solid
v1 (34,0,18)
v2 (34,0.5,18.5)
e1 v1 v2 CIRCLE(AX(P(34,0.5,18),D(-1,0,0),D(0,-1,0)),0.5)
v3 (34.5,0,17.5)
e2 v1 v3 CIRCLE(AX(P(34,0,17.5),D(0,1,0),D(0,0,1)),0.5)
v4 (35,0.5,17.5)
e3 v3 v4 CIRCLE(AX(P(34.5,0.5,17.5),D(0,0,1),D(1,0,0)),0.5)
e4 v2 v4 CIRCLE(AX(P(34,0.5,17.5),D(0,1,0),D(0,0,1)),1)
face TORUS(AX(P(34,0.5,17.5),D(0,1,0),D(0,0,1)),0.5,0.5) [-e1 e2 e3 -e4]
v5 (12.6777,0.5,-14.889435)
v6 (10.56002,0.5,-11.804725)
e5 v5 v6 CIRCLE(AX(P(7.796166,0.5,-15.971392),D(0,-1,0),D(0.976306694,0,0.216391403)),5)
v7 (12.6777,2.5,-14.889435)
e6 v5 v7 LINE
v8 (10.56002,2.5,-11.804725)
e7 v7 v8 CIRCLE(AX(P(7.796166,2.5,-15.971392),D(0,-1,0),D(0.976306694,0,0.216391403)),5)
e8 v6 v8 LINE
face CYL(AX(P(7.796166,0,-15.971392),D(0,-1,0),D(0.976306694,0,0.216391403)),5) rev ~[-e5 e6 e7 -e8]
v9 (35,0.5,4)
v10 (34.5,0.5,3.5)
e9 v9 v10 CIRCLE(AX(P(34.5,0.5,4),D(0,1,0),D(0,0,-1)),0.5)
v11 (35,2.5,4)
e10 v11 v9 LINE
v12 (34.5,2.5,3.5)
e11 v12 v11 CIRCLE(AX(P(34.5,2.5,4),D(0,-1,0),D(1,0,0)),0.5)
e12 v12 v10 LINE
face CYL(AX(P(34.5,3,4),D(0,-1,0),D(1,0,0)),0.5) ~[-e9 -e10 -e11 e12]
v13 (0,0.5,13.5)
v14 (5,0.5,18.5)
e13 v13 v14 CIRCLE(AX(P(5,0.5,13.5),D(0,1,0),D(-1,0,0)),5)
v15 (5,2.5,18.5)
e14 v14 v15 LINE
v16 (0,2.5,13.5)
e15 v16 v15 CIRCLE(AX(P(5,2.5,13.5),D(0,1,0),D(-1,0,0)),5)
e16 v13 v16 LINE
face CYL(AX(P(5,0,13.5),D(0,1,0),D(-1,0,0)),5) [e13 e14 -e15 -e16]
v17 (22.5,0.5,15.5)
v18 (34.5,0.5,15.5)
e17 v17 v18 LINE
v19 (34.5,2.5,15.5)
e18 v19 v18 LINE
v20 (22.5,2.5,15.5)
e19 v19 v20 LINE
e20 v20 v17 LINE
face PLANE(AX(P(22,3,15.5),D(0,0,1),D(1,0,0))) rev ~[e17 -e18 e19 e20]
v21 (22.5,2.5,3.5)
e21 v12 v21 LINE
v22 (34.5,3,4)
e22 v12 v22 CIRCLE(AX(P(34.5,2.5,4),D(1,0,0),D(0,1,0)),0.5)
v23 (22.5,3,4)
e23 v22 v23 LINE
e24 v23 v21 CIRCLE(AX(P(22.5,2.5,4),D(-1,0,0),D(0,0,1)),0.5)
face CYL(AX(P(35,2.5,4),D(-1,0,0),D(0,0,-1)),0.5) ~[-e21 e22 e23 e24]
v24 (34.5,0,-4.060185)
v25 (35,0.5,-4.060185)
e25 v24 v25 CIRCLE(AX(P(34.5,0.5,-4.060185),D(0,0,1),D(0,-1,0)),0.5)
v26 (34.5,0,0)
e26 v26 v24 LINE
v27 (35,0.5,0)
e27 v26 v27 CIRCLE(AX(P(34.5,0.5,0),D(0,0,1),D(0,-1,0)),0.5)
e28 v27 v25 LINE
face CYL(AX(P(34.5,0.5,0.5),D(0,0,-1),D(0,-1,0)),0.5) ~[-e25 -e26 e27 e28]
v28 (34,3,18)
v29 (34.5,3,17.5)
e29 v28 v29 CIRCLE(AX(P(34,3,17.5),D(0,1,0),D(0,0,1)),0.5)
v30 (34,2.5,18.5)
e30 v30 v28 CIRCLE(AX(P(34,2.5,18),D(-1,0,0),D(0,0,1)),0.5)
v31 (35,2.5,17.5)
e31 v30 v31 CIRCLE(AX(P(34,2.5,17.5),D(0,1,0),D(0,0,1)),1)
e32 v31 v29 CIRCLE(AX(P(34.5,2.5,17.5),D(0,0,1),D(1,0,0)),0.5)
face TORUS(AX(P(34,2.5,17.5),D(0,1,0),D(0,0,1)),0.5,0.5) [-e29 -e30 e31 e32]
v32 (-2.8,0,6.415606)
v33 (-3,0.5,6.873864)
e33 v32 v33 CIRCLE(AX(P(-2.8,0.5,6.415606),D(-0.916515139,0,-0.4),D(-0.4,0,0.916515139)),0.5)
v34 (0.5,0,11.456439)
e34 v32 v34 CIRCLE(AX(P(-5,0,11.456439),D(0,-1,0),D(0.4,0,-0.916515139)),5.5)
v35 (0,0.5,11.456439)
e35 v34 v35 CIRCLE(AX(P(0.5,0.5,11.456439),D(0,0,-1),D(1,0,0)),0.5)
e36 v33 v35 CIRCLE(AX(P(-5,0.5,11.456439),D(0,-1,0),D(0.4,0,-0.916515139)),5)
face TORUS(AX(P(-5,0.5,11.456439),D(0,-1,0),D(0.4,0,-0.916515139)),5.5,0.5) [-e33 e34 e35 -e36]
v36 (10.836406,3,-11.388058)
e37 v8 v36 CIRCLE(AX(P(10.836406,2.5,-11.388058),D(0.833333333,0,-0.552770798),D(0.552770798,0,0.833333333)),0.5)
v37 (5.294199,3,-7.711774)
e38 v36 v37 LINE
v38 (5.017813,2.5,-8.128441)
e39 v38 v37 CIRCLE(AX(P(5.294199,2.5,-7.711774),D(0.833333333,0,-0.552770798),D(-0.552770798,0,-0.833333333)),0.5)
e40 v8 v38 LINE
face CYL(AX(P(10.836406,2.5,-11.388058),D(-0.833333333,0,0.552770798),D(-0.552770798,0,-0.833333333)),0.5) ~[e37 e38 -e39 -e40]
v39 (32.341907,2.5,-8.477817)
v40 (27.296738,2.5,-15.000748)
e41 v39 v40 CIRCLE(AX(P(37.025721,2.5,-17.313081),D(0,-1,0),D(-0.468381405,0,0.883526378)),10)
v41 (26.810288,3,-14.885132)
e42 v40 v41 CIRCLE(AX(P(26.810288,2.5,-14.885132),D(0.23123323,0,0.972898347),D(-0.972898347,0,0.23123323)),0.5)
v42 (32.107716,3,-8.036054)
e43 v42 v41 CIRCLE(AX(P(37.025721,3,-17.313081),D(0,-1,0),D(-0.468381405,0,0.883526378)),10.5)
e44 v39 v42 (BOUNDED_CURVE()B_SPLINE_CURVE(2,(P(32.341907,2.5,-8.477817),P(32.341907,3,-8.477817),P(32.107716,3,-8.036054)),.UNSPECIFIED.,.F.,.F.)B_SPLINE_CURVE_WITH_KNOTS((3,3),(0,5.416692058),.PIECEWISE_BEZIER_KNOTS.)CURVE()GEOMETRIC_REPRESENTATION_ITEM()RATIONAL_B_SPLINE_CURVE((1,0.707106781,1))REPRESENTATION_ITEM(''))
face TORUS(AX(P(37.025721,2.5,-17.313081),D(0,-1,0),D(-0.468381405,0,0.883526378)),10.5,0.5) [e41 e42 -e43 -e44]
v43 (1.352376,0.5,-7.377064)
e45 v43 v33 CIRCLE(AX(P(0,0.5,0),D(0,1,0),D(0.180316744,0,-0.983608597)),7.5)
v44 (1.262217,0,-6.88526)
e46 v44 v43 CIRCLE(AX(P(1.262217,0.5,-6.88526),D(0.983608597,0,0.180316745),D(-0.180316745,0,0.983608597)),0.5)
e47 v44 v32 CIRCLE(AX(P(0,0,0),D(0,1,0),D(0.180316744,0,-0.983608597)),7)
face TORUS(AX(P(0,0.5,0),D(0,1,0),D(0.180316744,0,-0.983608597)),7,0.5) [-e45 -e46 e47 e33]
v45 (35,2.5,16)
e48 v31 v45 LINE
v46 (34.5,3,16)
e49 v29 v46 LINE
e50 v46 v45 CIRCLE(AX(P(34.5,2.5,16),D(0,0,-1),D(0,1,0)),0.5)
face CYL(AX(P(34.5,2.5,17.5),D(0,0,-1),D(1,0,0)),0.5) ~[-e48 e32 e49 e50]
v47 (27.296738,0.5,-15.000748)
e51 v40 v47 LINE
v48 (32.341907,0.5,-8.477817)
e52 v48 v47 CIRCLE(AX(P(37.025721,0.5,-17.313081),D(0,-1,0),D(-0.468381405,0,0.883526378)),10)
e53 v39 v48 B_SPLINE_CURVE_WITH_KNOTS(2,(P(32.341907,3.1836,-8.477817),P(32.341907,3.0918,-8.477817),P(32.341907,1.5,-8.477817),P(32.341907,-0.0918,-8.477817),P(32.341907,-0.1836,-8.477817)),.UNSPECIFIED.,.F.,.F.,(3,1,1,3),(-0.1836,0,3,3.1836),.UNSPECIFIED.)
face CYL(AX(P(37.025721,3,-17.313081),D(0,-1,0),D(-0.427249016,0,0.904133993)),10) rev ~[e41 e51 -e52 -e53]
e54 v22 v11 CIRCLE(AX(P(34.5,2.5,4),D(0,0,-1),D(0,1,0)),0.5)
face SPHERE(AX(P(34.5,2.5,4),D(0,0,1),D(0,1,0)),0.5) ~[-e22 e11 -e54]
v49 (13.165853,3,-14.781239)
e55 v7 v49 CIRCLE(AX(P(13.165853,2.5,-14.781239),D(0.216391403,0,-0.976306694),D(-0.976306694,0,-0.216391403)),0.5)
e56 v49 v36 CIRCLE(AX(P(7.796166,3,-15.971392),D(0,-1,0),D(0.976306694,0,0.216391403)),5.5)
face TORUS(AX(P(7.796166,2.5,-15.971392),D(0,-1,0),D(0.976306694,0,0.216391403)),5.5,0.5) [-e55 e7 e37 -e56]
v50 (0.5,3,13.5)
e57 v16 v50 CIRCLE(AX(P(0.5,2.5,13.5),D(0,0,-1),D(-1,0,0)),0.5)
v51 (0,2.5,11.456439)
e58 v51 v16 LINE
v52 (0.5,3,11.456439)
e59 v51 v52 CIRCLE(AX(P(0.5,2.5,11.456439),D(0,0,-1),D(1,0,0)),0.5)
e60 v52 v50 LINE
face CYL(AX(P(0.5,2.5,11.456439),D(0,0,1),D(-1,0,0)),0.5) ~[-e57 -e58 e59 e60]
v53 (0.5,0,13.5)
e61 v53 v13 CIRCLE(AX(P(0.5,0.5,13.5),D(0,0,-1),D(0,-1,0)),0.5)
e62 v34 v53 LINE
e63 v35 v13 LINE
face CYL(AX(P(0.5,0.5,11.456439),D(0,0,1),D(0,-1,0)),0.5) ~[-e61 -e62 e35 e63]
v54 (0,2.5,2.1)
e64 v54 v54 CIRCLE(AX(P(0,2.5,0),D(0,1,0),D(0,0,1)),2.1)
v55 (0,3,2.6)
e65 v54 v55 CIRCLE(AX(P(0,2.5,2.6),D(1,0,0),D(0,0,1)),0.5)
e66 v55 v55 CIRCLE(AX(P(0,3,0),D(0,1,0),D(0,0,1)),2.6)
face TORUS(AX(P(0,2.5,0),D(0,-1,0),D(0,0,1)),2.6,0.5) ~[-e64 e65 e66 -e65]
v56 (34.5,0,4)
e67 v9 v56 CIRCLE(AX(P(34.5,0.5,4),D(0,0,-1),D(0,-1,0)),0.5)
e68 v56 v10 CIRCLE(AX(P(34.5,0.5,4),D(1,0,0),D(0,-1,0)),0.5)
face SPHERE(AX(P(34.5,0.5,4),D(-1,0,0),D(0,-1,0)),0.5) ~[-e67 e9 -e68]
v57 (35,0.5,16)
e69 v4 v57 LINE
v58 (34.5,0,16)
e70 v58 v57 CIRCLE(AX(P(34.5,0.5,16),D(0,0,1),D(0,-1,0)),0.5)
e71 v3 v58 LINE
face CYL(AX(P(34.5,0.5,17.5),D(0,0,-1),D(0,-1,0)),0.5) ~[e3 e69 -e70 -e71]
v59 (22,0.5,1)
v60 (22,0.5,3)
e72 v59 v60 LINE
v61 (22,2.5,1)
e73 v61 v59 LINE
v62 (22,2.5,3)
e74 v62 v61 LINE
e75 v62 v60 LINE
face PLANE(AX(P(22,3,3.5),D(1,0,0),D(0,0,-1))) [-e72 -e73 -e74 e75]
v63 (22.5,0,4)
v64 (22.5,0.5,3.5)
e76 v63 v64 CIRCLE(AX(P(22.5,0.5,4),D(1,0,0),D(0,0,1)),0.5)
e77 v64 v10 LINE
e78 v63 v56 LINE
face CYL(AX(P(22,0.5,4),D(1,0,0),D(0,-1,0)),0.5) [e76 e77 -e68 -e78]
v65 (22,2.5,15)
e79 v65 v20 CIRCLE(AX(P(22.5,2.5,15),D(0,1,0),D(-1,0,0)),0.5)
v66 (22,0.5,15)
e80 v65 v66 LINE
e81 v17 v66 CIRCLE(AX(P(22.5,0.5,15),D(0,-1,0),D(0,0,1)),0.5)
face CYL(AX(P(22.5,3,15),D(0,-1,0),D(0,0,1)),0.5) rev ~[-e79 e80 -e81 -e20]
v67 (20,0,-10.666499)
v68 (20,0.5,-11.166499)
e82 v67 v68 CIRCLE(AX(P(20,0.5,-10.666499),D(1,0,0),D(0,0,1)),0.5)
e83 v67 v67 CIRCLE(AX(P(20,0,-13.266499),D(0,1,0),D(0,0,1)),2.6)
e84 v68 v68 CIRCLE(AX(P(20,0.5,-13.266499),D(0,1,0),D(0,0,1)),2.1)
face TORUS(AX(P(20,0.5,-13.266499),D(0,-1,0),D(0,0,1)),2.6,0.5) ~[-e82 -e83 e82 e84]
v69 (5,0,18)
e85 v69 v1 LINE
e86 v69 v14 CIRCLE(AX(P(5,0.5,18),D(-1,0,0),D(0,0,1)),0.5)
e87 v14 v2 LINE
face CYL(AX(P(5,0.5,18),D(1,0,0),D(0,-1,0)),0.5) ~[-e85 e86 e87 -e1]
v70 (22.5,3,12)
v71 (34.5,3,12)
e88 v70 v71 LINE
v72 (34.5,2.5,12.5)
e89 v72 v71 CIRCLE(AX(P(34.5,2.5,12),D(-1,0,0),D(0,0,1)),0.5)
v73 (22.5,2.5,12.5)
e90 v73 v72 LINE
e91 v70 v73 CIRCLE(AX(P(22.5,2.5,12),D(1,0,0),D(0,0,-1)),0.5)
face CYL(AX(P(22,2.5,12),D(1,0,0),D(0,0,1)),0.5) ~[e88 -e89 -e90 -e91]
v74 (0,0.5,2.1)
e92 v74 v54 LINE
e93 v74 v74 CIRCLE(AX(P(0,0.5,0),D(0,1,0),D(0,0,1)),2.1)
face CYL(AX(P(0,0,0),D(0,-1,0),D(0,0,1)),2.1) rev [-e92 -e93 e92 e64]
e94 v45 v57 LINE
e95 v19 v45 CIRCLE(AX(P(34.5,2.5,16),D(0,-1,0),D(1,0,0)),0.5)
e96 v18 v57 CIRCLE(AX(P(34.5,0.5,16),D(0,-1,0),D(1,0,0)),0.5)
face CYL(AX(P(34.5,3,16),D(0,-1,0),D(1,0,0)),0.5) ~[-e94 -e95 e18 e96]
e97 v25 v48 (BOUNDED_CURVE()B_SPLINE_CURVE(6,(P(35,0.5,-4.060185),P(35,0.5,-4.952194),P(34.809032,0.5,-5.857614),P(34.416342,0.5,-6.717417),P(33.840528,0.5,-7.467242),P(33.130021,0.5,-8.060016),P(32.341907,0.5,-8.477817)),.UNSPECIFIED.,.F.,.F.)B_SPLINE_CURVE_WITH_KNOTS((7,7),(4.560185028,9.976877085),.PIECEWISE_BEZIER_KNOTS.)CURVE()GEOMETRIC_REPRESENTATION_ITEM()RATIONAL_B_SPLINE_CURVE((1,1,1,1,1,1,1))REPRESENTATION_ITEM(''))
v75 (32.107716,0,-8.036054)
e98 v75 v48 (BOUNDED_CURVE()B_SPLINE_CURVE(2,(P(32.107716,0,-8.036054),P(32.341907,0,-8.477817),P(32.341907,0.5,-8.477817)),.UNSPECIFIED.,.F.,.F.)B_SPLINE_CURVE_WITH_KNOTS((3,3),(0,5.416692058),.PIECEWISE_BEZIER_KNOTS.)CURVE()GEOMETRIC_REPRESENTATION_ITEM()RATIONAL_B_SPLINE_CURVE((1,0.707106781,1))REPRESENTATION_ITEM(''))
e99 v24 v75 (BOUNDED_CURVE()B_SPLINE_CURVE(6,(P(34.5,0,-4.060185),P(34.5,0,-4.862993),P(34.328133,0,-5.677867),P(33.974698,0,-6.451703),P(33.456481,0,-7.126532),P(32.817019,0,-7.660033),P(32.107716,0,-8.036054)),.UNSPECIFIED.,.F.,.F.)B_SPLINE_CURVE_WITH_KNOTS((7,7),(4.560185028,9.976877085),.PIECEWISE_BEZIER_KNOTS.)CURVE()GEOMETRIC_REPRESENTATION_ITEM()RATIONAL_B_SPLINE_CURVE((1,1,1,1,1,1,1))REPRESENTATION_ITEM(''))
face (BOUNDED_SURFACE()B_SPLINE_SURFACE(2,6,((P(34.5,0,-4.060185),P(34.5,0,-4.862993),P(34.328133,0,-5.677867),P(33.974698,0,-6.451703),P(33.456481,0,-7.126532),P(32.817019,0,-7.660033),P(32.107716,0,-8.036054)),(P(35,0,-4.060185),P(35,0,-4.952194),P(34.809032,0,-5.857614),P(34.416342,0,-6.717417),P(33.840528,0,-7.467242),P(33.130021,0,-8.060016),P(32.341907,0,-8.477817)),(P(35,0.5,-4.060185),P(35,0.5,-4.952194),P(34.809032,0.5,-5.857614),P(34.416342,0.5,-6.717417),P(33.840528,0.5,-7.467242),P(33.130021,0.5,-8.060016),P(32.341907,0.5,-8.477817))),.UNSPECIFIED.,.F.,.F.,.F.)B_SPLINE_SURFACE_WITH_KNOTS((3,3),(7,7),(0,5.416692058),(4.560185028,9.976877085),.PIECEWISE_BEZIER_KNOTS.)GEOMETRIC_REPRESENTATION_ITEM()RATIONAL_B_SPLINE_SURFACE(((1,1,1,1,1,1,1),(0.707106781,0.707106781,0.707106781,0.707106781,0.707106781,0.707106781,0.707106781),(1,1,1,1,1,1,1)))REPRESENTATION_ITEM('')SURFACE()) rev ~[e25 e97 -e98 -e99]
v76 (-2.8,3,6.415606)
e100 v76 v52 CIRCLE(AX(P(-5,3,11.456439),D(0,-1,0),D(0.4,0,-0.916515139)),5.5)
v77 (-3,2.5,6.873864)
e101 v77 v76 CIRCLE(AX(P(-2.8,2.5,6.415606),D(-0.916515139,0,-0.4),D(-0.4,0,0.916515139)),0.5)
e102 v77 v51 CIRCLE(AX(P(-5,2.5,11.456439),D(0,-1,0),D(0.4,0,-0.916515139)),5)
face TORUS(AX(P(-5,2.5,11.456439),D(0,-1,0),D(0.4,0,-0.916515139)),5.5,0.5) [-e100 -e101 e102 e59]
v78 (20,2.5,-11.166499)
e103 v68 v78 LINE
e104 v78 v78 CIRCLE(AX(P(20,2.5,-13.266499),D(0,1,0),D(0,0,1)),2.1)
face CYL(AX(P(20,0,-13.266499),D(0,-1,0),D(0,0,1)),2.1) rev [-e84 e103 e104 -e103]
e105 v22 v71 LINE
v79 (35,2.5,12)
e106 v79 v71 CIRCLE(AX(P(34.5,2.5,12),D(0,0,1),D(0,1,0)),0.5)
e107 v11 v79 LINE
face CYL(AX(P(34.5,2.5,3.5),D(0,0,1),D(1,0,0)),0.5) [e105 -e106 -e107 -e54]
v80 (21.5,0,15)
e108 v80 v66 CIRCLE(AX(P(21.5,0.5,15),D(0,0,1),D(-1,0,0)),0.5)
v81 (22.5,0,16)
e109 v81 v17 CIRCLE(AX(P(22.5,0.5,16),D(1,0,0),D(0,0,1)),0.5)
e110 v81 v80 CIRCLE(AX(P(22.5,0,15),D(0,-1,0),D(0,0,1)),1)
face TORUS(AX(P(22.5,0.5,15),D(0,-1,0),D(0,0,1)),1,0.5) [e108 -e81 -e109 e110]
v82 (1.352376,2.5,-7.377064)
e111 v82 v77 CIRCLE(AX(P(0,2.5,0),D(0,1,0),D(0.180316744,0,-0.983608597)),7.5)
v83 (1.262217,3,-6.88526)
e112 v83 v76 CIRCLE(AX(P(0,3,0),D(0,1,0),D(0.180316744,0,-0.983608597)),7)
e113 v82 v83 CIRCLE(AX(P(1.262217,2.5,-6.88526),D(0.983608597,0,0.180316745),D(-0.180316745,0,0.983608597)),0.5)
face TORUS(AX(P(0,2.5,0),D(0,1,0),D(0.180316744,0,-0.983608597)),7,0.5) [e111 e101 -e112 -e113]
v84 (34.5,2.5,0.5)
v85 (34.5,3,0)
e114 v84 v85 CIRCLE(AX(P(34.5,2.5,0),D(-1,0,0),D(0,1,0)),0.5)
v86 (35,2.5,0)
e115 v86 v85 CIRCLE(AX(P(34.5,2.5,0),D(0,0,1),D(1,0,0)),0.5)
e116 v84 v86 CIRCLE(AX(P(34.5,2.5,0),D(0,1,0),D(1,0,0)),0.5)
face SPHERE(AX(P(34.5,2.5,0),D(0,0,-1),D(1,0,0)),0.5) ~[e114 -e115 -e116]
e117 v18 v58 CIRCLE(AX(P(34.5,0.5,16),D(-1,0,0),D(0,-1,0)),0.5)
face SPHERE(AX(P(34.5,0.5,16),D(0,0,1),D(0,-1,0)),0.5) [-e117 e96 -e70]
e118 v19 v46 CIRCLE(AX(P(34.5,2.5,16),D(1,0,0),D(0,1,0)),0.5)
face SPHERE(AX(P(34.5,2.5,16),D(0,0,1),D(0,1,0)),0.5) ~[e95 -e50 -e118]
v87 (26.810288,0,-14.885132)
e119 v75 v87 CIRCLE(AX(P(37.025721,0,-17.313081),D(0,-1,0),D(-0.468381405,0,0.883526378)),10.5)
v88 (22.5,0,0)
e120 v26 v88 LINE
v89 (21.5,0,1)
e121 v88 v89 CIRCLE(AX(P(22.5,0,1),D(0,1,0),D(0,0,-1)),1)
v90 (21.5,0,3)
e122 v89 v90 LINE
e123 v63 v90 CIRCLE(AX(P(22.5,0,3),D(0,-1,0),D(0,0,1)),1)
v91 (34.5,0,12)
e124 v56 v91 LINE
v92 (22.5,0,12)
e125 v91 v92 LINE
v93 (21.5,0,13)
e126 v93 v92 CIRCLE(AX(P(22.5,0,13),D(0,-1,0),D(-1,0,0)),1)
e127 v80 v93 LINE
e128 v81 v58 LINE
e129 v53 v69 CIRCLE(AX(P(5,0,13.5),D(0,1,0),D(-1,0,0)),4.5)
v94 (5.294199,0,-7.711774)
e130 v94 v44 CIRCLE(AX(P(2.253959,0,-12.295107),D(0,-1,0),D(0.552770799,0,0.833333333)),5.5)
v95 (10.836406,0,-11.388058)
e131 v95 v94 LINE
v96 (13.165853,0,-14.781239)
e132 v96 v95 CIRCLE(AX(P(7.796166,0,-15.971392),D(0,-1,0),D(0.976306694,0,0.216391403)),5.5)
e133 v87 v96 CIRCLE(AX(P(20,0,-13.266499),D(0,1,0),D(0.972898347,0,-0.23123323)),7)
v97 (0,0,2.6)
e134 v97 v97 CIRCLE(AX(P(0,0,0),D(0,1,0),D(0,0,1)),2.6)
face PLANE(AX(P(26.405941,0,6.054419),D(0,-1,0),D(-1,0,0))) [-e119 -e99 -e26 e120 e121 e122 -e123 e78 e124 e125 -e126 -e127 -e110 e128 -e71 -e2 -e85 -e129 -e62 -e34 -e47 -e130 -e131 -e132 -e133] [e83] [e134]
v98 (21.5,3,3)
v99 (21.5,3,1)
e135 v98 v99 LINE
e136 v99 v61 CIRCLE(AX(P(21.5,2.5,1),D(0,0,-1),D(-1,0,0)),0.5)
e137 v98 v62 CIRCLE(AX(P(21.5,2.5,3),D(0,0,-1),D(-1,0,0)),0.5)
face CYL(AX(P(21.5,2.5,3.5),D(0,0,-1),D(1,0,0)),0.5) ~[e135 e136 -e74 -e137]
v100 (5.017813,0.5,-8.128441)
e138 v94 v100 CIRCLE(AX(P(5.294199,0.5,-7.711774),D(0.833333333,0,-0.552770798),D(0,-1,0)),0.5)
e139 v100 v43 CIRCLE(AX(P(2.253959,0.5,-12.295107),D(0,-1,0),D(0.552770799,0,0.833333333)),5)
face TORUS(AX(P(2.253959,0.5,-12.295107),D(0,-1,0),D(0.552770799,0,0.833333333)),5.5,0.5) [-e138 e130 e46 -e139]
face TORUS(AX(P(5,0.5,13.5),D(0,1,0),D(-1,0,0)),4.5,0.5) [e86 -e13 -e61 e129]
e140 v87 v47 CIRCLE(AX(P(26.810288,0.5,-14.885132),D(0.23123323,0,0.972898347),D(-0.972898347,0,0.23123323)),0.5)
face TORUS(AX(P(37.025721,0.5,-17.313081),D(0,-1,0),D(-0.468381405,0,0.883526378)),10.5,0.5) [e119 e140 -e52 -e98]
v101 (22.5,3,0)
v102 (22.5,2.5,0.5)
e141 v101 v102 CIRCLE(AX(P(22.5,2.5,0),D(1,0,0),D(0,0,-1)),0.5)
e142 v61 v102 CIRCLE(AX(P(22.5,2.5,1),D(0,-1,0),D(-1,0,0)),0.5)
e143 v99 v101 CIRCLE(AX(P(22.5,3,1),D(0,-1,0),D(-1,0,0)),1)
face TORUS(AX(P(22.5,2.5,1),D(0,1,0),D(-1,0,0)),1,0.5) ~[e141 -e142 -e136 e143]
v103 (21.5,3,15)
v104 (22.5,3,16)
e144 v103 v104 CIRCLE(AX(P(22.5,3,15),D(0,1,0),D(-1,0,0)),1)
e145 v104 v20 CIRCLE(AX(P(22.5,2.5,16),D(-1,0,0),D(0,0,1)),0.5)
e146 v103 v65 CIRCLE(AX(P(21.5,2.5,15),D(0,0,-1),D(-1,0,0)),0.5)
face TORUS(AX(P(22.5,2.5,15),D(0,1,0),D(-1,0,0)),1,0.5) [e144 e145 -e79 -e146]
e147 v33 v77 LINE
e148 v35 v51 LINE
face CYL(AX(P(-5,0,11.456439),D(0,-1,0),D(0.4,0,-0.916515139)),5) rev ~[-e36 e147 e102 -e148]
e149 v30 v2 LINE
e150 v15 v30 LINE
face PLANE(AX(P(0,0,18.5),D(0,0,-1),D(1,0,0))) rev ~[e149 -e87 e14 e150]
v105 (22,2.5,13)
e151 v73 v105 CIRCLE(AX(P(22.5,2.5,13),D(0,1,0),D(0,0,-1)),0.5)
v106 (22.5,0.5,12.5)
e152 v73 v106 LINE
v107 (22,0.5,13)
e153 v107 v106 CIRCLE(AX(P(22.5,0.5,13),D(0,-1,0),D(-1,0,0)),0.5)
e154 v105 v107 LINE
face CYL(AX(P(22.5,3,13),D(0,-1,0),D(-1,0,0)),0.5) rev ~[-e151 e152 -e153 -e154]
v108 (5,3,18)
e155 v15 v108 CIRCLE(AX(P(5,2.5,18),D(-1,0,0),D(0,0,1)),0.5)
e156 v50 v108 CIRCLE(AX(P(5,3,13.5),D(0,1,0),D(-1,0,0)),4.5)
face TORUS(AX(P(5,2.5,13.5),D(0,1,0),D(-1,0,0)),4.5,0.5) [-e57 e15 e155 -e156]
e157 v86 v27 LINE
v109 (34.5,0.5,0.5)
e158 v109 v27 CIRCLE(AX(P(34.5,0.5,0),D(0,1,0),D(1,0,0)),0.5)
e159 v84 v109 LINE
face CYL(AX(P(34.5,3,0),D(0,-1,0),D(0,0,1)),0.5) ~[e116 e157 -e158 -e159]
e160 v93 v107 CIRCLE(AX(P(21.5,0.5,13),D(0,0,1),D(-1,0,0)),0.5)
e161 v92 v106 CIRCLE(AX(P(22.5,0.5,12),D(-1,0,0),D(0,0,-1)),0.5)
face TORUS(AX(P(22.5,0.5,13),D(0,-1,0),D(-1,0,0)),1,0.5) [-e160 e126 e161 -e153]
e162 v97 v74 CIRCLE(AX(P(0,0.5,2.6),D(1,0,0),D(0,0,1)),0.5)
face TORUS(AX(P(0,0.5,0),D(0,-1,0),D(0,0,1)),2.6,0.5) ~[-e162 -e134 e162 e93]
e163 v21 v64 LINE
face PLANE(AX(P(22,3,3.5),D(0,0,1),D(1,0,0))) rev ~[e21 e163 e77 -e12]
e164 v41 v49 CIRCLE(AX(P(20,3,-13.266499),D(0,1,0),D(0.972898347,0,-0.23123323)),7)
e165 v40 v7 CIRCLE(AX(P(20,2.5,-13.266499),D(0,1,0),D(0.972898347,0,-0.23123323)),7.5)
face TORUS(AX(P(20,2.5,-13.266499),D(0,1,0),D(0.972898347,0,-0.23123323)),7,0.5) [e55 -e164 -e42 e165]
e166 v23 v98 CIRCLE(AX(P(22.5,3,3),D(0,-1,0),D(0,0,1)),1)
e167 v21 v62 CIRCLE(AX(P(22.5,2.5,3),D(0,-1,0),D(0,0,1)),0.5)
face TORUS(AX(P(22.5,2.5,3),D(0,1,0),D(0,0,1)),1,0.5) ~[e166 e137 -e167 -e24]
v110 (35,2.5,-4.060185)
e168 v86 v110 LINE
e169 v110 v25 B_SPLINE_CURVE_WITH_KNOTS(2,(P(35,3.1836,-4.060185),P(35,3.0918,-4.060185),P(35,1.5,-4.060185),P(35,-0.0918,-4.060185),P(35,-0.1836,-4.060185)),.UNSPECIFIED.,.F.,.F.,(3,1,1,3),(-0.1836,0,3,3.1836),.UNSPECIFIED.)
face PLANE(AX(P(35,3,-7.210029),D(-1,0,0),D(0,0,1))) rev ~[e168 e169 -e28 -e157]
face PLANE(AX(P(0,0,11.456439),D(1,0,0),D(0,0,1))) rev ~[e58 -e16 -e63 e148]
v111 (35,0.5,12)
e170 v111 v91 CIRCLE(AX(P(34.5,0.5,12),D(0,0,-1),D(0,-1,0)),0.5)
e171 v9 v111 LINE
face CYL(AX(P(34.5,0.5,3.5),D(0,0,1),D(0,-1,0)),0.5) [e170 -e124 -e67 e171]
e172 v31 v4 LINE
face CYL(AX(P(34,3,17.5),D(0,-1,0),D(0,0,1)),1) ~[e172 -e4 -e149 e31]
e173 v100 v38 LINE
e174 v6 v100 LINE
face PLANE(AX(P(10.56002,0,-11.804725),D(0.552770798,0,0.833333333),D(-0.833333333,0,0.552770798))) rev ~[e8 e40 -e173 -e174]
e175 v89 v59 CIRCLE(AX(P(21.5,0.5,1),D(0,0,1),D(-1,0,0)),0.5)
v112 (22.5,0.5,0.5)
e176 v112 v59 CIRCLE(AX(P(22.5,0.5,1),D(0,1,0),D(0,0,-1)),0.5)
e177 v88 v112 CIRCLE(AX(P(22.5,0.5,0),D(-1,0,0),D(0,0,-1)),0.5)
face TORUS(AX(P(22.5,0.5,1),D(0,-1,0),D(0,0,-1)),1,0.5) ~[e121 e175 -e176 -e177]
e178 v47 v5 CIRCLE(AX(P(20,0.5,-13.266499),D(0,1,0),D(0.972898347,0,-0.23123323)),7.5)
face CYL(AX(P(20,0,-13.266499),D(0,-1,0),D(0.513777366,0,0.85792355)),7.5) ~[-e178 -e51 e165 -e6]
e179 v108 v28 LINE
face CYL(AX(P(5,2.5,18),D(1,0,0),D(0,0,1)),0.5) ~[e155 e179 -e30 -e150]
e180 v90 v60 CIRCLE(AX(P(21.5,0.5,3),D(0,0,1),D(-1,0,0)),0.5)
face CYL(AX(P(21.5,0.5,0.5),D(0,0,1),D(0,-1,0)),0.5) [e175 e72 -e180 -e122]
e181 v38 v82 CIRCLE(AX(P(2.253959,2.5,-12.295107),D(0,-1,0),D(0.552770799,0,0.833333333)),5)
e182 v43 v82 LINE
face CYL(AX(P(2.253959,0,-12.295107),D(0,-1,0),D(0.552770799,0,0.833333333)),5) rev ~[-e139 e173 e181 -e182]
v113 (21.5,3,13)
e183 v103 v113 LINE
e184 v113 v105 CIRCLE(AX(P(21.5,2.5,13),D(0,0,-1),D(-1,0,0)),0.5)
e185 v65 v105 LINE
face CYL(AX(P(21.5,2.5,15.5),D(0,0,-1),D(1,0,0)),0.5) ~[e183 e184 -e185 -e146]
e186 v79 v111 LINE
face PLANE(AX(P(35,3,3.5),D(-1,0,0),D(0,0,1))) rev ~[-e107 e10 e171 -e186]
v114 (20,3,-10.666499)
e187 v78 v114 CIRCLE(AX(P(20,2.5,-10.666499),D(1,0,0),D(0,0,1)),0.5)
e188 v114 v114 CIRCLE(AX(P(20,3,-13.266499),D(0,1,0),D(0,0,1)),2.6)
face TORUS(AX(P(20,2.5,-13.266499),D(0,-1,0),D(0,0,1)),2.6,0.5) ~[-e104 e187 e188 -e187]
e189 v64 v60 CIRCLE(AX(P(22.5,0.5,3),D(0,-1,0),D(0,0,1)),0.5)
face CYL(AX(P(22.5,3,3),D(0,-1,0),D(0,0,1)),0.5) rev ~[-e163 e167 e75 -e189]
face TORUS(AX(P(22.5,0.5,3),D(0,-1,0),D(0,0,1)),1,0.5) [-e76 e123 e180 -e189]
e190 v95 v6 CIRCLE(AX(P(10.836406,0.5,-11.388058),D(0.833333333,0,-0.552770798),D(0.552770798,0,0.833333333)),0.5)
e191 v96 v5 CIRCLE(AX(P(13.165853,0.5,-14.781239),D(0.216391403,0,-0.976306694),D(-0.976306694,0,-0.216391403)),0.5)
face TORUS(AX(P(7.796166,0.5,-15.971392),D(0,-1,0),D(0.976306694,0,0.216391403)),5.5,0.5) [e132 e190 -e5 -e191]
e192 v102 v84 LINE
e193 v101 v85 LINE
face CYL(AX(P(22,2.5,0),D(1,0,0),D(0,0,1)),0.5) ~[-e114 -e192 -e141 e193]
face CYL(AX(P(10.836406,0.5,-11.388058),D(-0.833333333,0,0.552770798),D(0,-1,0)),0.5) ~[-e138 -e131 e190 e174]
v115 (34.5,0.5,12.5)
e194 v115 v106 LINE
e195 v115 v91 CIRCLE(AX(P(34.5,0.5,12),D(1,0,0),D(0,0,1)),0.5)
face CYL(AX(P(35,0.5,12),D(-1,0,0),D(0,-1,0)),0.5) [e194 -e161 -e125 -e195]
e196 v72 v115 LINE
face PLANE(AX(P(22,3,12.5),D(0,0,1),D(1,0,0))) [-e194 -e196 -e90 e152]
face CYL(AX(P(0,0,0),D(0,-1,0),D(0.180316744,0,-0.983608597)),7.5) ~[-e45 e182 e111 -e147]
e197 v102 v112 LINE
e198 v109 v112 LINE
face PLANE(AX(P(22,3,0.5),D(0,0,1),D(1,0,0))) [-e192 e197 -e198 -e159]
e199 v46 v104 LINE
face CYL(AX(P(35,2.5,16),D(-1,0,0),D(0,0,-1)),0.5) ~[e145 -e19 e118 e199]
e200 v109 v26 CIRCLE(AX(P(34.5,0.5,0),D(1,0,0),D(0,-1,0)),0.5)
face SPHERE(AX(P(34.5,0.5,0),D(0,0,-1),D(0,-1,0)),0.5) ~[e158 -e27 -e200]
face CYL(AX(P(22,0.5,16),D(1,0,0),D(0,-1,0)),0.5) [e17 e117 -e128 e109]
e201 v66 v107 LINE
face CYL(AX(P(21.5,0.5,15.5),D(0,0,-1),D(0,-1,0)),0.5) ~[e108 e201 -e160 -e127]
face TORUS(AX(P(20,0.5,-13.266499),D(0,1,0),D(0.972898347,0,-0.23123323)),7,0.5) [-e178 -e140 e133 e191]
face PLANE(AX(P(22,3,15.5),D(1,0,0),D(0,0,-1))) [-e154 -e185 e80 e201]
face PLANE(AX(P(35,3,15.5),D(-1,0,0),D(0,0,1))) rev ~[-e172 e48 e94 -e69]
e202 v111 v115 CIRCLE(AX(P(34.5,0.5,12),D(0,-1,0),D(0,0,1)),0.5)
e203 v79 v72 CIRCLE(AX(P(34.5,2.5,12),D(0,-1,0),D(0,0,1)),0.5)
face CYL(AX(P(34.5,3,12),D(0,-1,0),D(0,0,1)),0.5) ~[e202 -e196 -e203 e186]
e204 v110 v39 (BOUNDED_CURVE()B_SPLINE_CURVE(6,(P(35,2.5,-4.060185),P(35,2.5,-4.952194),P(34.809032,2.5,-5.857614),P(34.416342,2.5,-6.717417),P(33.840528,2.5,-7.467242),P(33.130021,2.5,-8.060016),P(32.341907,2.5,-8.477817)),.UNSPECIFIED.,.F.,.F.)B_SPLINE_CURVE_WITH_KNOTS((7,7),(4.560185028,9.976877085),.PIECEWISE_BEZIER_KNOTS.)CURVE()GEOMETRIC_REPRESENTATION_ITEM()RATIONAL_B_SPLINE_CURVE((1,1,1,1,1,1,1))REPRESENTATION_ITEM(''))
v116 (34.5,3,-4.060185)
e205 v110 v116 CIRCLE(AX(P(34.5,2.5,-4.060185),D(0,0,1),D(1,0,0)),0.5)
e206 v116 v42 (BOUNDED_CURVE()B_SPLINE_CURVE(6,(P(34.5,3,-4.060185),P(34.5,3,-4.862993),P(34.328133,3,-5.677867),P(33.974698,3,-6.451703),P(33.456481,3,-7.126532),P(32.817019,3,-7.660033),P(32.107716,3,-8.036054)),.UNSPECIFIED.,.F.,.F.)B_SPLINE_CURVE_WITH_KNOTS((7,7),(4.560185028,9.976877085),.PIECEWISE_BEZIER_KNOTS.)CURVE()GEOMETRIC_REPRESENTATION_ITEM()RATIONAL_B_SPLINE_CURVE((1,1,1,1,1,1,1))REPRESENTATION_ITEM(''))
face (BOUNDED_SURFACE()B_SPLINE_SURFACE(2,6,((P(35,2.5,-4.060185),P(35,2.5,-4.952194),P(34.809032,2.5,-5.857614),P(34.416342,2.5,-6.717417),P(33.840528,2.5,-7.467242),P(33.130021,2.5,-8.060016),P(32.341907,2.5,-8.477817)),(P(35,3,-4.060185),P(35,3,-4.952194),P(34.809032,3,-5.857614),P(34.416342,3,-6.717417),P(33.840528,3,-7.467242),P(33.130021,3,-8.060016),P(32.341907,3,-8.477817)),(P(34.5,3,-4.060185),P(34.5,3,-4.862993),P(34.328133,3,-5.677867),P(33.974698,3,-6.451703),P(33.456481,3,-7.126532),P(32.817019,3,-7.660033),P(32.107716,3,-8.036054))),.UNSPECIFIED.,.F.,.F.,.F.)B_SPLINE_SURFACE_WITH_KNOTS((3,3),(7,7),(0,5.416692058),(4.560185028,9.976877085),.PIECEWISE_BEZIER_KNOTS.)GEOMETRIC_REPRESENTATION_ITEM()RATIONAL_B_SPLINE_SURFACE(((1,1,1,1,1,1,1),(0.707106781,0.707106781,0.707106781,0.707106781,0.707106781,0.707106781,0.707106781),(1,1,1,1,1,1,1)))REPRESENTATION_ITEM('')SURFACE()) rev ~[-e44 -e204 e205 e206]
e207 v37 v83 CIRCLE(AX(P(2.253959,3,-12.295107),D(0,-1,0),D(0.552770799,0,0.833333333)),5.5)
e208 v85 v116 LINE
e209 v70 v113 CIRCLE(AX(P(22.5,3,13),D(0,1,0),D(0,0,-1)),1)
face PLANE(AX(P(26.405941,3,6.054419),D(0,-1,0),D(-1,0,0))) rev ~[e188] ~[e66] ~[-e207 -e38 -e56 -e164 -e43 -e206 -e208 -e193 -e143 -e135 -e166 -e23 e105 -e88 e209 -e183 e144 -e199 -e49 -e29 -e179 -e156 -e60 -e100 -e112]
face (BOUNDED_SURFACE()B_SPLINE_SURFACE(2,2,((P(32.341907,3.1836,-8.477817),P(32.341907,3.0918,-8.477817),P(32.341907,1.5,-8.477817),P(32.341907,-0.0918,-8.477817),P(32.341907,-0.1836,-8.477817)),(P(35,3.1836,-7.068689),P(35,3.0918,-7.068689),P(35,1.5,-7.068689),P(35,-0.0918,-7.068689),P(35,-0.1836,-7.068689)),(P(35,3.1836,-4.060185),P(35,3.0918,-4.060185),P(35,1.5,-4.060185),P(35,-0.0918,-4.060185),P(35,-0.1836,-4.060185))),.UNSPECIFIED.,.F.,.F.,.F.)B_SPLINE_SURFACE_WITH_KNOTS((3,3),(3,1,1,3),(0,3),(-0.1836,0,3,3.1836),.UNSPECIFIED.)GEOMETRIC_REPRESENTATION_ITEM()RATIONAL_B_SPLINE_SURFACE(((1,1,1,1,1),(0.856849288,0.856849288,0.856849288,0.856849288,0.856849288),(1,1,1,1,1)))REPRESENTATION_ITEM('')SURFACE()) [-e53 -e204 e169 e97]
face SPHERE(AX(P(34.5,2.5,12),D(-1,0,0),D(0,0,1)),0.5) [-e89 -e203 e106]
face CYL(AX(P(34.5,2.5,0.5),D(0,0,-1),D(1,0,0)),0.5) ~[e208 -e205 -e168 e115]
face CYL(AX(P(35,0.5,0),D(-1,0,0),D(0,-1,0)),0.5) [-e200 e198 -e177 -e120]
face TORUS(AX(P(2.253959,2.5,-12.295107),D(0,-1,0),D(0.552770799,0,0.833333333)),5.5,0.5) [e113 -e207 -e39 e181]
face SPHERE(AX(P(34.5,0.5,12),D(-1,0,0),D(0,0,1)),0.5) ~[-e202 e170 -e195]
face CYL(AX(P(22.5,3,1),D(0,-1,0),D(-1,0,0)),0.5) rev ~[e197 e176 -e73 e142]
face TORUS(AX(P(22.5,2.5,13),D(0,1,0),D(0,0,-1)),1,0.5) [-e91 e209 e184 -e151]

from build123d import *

# Parameters (mm, degrees)
SKETCH1_R           = 2.1
BOSS_EXTRUDE1_DEPTH = 3
FILLET1_R           = 5
SKETCH2_W           = 8
SKETCH2_H           = 3
CUT_EXTRUDE1_DEPTH  = 3
BOSS_EXTRUDE2_DEPTH = 3
FILLET2_R           = 10
SKETCH5_W           = 13
SKETCH5_H           = 3
CUT_EXTRUDE3_DEPTH  = 3.5
FILLET3_R           = 5
FILLET4_R           = 1
FILLET5_R           = 0.5


with BuildPart() as part:
    # Sketch1 → Boss-Extrude1 (new body)
    with BuildSketch(Plane(origin=(0, 0, 0), x_dir=(1, 0, 0), z_dir=(0, 1, 0))):
        with BuildLine():
            Line((0, -11.456439237), (0, -18.5))
            Line((0, -18.5), (30, -18.5))
            Line((30, -18.5), (30, -10.955880937))
            ThreePointArc((30, -10.955880937), (29.758770483, -9.587800364), (29.064177772, -8.384730498))
            Line((29.064177772, -8.384730498), (22.591994863, -0.671483264))
            ThreePointArc((22.591994863, -0.671483264), (21.491397009, 3.371317526), (23.853330247, 6.832072535))
            ThreePointArc((23.853330247, 6.832072535), (24.386195315, 19.350189707), (12.677699795, 14.889434685))
            ThreePointArc((12.677699795, 14.889434685), (11.918282987, 13.141523465), (10.560020318, 11.804725034))
            Line((10.560020318, 11.804725034), (5.017813295, 8.128440794))
            ThreePointArc((5.017813295, 8.128440794), (3.258028142, 7.396960283), (1.352375582, 7.377064476))
            ThreePointArc((1.352375582, 7.377064476), (-7.172928544, 2.190683933), (-3, -6.873863542))
            ThreePointArc((-3, -6.873863542), (-0.816699867, -8.71782645), (0, -11.456439237))
        make_face()
        with Locations(Location((0, 0, 0), (0, 0, 270))):
            Circle(SKETCH1_R, mode=Mode.SUBTRACT)
        with Locations(Location((20, 13.266499161, 0), (0, 0, 270))):
            Circle(SKETCH1_R, mode=Mode.SUBTRACT)
    extrude(amount=BOSS_EXTRUDE1_DEPTH)

    # Fillet1
    fillet1_edges = [part.edges().sort_by_distance(p)[0] for p in [
        (0, 1.5, 18.5),
    ]]
    fillet(fillet1_edges, radius=FILLET1_R)

    # Sketch2 → Cut-Extrude1 (cut)
    with BuildSketch(Plane(origin=(0, 3, 0), x_dir=(1, 0, 0), z_dir=(0, 1, 0))):
        with Locations((26, -14)):
            Rectangle(SKETCH2_W, SKETCH2_H)
    extrude(amount=-CUT_EXTRUDE1_DEPTH, mode=Mode.SUBTRACT)

    # Sketch4 → Boss-Extrude2 (add)
    with BuildSketch(Plane(origin=(0, 3, 0), x_dir=(1, 0, 0), z_dir=(0, 1, 0))):
        Polygon((27.12691506, 10.930459408), (35, 7.210028784), (35, -0.5), (22, -0.5), (22, -3.5), (35, -3.5), (35, -12.5), (22, -12.5), (22, -15.5), (35, -15.5), (35, -18.5), (18.101899038, -18.5), (15.526805317, 5.265582811), align=None)
    extrude(amount=-BOSS_EXTRUDE2_DEPTH)

    # Fillet2
    fillet2_edges = [part.edges().sort_by_distance(p)[0] for p in [
        (27.12691506, 1.5, -10.930459408),
    ]]
    fillet(fillet2_edges, radius=FILLET2_R)

    # Sketch5 → Cut-Extrude3 (cut)
    with BuildSketch(Plane(origin=(0, 3, 0), x_dir=(1, 0, 0), z_dir=(0, 1, 0))):
        with Locations((28.5, -2)):
            Rectangle(SKETCH5_W, SKETCH5_H)
    extrude(amount=-CUT_EXTRUDE3_DEPTH, mode=Mode.SUBTRACT)

    # Fillet3
    fillet3_edges = [part.edges().sort_by_distance(p)[0] for p in [
        (35, 1.5, -7.210028784),
    ]]
    fillet(fillet3_edges, radius=FILLET3_R)

    # Fillet4
    fillet4_edges = [part.edges().sort_by_distance(p)[0] for p in [
        (35, 1.5, 18.5),
    ]]
    fillet(fillet4_edges, radius=FILLET4_R)

    # Fillet5
    fillet5_edges = [part.edges().sort_by_distance(p)[0] for p in [
        (-0.816699867, 3, 8.71782645),
        (7.788916806, 0, -9.966582914),
        (11.918282987, 0, -13.141523465),
        (19.942894424, 3, -20.766281755),
        (19.942894424, 0, -20.766281755),
        (29.115642574, 0, -11.195020687),
        (0, 3, 12.478219619),
        (22, 0, 2),
        (22, 1.5, 0.5),
        (22, 3, 2),
        (22, 1.5, 3.5),
        (0, 0, 12.478219619),
        (-0.816699867, 0, 8.71782645),
        (-7.172928544, 0, -2.190683933),
        (3.258028142, 0, -7.396960283),
        (29.115642574, 3, -11.195020687),
        (34.28424644, 3, -6.638019863),
        (34.28424644, 0, -6.638019863),
        (35, 3, 16.5),
        (34.707106781, 3, 18.207106781),
        (35, 0, 16.5),
        (34.707106781, 0, 18.207106781),
        (0, 0, -2.1),
        (0, 3, -2.1),
        (20, 0, -15.366499161),
        (20, 3, -15.366499161),
        (11.918282987, 3, -13.141523465),
        (7.788916806, 3, -9.966582914),
        (3.258028142, 3, -7.396960283),
        (19.5, 0, 18.5),
        (19.5, 3, 18.5),
        (1.464466094, 0, 17.035533906),
        (1.464466094, 3, 17.035533906),
        (28.5, 0, 15.5),
        (22, 0, 14),
        (22, 1.5, 15.5),
        (28.5, 0, 12.5),
        (22, 1.5, 12.5),
        (28.5, 3, 12.5),
        (22, 3, 14),
        (28.5, 3, 15.5),
        (-7.172928544, 3, -2.190683933),
        (28.5, 0, 3.5),
        (28.5, 0, 0.5),
        (35, 1.5, 0.5),
        (35, 1.5, 12.5),
        (35, 3, 8),
        (28.5, 3, 3.5),
        (28.5, 3, 0.5),
        (35, 3, -1.780092514),
        (35, 0, -1.780092514),
        (35, 0, 8),
        (35, 1.5, 3.5),
        (35, 1.5, 15.5),
    ]]
    fillet(fillet5_edges, radius=FILLET5_R)


solid = part.part
